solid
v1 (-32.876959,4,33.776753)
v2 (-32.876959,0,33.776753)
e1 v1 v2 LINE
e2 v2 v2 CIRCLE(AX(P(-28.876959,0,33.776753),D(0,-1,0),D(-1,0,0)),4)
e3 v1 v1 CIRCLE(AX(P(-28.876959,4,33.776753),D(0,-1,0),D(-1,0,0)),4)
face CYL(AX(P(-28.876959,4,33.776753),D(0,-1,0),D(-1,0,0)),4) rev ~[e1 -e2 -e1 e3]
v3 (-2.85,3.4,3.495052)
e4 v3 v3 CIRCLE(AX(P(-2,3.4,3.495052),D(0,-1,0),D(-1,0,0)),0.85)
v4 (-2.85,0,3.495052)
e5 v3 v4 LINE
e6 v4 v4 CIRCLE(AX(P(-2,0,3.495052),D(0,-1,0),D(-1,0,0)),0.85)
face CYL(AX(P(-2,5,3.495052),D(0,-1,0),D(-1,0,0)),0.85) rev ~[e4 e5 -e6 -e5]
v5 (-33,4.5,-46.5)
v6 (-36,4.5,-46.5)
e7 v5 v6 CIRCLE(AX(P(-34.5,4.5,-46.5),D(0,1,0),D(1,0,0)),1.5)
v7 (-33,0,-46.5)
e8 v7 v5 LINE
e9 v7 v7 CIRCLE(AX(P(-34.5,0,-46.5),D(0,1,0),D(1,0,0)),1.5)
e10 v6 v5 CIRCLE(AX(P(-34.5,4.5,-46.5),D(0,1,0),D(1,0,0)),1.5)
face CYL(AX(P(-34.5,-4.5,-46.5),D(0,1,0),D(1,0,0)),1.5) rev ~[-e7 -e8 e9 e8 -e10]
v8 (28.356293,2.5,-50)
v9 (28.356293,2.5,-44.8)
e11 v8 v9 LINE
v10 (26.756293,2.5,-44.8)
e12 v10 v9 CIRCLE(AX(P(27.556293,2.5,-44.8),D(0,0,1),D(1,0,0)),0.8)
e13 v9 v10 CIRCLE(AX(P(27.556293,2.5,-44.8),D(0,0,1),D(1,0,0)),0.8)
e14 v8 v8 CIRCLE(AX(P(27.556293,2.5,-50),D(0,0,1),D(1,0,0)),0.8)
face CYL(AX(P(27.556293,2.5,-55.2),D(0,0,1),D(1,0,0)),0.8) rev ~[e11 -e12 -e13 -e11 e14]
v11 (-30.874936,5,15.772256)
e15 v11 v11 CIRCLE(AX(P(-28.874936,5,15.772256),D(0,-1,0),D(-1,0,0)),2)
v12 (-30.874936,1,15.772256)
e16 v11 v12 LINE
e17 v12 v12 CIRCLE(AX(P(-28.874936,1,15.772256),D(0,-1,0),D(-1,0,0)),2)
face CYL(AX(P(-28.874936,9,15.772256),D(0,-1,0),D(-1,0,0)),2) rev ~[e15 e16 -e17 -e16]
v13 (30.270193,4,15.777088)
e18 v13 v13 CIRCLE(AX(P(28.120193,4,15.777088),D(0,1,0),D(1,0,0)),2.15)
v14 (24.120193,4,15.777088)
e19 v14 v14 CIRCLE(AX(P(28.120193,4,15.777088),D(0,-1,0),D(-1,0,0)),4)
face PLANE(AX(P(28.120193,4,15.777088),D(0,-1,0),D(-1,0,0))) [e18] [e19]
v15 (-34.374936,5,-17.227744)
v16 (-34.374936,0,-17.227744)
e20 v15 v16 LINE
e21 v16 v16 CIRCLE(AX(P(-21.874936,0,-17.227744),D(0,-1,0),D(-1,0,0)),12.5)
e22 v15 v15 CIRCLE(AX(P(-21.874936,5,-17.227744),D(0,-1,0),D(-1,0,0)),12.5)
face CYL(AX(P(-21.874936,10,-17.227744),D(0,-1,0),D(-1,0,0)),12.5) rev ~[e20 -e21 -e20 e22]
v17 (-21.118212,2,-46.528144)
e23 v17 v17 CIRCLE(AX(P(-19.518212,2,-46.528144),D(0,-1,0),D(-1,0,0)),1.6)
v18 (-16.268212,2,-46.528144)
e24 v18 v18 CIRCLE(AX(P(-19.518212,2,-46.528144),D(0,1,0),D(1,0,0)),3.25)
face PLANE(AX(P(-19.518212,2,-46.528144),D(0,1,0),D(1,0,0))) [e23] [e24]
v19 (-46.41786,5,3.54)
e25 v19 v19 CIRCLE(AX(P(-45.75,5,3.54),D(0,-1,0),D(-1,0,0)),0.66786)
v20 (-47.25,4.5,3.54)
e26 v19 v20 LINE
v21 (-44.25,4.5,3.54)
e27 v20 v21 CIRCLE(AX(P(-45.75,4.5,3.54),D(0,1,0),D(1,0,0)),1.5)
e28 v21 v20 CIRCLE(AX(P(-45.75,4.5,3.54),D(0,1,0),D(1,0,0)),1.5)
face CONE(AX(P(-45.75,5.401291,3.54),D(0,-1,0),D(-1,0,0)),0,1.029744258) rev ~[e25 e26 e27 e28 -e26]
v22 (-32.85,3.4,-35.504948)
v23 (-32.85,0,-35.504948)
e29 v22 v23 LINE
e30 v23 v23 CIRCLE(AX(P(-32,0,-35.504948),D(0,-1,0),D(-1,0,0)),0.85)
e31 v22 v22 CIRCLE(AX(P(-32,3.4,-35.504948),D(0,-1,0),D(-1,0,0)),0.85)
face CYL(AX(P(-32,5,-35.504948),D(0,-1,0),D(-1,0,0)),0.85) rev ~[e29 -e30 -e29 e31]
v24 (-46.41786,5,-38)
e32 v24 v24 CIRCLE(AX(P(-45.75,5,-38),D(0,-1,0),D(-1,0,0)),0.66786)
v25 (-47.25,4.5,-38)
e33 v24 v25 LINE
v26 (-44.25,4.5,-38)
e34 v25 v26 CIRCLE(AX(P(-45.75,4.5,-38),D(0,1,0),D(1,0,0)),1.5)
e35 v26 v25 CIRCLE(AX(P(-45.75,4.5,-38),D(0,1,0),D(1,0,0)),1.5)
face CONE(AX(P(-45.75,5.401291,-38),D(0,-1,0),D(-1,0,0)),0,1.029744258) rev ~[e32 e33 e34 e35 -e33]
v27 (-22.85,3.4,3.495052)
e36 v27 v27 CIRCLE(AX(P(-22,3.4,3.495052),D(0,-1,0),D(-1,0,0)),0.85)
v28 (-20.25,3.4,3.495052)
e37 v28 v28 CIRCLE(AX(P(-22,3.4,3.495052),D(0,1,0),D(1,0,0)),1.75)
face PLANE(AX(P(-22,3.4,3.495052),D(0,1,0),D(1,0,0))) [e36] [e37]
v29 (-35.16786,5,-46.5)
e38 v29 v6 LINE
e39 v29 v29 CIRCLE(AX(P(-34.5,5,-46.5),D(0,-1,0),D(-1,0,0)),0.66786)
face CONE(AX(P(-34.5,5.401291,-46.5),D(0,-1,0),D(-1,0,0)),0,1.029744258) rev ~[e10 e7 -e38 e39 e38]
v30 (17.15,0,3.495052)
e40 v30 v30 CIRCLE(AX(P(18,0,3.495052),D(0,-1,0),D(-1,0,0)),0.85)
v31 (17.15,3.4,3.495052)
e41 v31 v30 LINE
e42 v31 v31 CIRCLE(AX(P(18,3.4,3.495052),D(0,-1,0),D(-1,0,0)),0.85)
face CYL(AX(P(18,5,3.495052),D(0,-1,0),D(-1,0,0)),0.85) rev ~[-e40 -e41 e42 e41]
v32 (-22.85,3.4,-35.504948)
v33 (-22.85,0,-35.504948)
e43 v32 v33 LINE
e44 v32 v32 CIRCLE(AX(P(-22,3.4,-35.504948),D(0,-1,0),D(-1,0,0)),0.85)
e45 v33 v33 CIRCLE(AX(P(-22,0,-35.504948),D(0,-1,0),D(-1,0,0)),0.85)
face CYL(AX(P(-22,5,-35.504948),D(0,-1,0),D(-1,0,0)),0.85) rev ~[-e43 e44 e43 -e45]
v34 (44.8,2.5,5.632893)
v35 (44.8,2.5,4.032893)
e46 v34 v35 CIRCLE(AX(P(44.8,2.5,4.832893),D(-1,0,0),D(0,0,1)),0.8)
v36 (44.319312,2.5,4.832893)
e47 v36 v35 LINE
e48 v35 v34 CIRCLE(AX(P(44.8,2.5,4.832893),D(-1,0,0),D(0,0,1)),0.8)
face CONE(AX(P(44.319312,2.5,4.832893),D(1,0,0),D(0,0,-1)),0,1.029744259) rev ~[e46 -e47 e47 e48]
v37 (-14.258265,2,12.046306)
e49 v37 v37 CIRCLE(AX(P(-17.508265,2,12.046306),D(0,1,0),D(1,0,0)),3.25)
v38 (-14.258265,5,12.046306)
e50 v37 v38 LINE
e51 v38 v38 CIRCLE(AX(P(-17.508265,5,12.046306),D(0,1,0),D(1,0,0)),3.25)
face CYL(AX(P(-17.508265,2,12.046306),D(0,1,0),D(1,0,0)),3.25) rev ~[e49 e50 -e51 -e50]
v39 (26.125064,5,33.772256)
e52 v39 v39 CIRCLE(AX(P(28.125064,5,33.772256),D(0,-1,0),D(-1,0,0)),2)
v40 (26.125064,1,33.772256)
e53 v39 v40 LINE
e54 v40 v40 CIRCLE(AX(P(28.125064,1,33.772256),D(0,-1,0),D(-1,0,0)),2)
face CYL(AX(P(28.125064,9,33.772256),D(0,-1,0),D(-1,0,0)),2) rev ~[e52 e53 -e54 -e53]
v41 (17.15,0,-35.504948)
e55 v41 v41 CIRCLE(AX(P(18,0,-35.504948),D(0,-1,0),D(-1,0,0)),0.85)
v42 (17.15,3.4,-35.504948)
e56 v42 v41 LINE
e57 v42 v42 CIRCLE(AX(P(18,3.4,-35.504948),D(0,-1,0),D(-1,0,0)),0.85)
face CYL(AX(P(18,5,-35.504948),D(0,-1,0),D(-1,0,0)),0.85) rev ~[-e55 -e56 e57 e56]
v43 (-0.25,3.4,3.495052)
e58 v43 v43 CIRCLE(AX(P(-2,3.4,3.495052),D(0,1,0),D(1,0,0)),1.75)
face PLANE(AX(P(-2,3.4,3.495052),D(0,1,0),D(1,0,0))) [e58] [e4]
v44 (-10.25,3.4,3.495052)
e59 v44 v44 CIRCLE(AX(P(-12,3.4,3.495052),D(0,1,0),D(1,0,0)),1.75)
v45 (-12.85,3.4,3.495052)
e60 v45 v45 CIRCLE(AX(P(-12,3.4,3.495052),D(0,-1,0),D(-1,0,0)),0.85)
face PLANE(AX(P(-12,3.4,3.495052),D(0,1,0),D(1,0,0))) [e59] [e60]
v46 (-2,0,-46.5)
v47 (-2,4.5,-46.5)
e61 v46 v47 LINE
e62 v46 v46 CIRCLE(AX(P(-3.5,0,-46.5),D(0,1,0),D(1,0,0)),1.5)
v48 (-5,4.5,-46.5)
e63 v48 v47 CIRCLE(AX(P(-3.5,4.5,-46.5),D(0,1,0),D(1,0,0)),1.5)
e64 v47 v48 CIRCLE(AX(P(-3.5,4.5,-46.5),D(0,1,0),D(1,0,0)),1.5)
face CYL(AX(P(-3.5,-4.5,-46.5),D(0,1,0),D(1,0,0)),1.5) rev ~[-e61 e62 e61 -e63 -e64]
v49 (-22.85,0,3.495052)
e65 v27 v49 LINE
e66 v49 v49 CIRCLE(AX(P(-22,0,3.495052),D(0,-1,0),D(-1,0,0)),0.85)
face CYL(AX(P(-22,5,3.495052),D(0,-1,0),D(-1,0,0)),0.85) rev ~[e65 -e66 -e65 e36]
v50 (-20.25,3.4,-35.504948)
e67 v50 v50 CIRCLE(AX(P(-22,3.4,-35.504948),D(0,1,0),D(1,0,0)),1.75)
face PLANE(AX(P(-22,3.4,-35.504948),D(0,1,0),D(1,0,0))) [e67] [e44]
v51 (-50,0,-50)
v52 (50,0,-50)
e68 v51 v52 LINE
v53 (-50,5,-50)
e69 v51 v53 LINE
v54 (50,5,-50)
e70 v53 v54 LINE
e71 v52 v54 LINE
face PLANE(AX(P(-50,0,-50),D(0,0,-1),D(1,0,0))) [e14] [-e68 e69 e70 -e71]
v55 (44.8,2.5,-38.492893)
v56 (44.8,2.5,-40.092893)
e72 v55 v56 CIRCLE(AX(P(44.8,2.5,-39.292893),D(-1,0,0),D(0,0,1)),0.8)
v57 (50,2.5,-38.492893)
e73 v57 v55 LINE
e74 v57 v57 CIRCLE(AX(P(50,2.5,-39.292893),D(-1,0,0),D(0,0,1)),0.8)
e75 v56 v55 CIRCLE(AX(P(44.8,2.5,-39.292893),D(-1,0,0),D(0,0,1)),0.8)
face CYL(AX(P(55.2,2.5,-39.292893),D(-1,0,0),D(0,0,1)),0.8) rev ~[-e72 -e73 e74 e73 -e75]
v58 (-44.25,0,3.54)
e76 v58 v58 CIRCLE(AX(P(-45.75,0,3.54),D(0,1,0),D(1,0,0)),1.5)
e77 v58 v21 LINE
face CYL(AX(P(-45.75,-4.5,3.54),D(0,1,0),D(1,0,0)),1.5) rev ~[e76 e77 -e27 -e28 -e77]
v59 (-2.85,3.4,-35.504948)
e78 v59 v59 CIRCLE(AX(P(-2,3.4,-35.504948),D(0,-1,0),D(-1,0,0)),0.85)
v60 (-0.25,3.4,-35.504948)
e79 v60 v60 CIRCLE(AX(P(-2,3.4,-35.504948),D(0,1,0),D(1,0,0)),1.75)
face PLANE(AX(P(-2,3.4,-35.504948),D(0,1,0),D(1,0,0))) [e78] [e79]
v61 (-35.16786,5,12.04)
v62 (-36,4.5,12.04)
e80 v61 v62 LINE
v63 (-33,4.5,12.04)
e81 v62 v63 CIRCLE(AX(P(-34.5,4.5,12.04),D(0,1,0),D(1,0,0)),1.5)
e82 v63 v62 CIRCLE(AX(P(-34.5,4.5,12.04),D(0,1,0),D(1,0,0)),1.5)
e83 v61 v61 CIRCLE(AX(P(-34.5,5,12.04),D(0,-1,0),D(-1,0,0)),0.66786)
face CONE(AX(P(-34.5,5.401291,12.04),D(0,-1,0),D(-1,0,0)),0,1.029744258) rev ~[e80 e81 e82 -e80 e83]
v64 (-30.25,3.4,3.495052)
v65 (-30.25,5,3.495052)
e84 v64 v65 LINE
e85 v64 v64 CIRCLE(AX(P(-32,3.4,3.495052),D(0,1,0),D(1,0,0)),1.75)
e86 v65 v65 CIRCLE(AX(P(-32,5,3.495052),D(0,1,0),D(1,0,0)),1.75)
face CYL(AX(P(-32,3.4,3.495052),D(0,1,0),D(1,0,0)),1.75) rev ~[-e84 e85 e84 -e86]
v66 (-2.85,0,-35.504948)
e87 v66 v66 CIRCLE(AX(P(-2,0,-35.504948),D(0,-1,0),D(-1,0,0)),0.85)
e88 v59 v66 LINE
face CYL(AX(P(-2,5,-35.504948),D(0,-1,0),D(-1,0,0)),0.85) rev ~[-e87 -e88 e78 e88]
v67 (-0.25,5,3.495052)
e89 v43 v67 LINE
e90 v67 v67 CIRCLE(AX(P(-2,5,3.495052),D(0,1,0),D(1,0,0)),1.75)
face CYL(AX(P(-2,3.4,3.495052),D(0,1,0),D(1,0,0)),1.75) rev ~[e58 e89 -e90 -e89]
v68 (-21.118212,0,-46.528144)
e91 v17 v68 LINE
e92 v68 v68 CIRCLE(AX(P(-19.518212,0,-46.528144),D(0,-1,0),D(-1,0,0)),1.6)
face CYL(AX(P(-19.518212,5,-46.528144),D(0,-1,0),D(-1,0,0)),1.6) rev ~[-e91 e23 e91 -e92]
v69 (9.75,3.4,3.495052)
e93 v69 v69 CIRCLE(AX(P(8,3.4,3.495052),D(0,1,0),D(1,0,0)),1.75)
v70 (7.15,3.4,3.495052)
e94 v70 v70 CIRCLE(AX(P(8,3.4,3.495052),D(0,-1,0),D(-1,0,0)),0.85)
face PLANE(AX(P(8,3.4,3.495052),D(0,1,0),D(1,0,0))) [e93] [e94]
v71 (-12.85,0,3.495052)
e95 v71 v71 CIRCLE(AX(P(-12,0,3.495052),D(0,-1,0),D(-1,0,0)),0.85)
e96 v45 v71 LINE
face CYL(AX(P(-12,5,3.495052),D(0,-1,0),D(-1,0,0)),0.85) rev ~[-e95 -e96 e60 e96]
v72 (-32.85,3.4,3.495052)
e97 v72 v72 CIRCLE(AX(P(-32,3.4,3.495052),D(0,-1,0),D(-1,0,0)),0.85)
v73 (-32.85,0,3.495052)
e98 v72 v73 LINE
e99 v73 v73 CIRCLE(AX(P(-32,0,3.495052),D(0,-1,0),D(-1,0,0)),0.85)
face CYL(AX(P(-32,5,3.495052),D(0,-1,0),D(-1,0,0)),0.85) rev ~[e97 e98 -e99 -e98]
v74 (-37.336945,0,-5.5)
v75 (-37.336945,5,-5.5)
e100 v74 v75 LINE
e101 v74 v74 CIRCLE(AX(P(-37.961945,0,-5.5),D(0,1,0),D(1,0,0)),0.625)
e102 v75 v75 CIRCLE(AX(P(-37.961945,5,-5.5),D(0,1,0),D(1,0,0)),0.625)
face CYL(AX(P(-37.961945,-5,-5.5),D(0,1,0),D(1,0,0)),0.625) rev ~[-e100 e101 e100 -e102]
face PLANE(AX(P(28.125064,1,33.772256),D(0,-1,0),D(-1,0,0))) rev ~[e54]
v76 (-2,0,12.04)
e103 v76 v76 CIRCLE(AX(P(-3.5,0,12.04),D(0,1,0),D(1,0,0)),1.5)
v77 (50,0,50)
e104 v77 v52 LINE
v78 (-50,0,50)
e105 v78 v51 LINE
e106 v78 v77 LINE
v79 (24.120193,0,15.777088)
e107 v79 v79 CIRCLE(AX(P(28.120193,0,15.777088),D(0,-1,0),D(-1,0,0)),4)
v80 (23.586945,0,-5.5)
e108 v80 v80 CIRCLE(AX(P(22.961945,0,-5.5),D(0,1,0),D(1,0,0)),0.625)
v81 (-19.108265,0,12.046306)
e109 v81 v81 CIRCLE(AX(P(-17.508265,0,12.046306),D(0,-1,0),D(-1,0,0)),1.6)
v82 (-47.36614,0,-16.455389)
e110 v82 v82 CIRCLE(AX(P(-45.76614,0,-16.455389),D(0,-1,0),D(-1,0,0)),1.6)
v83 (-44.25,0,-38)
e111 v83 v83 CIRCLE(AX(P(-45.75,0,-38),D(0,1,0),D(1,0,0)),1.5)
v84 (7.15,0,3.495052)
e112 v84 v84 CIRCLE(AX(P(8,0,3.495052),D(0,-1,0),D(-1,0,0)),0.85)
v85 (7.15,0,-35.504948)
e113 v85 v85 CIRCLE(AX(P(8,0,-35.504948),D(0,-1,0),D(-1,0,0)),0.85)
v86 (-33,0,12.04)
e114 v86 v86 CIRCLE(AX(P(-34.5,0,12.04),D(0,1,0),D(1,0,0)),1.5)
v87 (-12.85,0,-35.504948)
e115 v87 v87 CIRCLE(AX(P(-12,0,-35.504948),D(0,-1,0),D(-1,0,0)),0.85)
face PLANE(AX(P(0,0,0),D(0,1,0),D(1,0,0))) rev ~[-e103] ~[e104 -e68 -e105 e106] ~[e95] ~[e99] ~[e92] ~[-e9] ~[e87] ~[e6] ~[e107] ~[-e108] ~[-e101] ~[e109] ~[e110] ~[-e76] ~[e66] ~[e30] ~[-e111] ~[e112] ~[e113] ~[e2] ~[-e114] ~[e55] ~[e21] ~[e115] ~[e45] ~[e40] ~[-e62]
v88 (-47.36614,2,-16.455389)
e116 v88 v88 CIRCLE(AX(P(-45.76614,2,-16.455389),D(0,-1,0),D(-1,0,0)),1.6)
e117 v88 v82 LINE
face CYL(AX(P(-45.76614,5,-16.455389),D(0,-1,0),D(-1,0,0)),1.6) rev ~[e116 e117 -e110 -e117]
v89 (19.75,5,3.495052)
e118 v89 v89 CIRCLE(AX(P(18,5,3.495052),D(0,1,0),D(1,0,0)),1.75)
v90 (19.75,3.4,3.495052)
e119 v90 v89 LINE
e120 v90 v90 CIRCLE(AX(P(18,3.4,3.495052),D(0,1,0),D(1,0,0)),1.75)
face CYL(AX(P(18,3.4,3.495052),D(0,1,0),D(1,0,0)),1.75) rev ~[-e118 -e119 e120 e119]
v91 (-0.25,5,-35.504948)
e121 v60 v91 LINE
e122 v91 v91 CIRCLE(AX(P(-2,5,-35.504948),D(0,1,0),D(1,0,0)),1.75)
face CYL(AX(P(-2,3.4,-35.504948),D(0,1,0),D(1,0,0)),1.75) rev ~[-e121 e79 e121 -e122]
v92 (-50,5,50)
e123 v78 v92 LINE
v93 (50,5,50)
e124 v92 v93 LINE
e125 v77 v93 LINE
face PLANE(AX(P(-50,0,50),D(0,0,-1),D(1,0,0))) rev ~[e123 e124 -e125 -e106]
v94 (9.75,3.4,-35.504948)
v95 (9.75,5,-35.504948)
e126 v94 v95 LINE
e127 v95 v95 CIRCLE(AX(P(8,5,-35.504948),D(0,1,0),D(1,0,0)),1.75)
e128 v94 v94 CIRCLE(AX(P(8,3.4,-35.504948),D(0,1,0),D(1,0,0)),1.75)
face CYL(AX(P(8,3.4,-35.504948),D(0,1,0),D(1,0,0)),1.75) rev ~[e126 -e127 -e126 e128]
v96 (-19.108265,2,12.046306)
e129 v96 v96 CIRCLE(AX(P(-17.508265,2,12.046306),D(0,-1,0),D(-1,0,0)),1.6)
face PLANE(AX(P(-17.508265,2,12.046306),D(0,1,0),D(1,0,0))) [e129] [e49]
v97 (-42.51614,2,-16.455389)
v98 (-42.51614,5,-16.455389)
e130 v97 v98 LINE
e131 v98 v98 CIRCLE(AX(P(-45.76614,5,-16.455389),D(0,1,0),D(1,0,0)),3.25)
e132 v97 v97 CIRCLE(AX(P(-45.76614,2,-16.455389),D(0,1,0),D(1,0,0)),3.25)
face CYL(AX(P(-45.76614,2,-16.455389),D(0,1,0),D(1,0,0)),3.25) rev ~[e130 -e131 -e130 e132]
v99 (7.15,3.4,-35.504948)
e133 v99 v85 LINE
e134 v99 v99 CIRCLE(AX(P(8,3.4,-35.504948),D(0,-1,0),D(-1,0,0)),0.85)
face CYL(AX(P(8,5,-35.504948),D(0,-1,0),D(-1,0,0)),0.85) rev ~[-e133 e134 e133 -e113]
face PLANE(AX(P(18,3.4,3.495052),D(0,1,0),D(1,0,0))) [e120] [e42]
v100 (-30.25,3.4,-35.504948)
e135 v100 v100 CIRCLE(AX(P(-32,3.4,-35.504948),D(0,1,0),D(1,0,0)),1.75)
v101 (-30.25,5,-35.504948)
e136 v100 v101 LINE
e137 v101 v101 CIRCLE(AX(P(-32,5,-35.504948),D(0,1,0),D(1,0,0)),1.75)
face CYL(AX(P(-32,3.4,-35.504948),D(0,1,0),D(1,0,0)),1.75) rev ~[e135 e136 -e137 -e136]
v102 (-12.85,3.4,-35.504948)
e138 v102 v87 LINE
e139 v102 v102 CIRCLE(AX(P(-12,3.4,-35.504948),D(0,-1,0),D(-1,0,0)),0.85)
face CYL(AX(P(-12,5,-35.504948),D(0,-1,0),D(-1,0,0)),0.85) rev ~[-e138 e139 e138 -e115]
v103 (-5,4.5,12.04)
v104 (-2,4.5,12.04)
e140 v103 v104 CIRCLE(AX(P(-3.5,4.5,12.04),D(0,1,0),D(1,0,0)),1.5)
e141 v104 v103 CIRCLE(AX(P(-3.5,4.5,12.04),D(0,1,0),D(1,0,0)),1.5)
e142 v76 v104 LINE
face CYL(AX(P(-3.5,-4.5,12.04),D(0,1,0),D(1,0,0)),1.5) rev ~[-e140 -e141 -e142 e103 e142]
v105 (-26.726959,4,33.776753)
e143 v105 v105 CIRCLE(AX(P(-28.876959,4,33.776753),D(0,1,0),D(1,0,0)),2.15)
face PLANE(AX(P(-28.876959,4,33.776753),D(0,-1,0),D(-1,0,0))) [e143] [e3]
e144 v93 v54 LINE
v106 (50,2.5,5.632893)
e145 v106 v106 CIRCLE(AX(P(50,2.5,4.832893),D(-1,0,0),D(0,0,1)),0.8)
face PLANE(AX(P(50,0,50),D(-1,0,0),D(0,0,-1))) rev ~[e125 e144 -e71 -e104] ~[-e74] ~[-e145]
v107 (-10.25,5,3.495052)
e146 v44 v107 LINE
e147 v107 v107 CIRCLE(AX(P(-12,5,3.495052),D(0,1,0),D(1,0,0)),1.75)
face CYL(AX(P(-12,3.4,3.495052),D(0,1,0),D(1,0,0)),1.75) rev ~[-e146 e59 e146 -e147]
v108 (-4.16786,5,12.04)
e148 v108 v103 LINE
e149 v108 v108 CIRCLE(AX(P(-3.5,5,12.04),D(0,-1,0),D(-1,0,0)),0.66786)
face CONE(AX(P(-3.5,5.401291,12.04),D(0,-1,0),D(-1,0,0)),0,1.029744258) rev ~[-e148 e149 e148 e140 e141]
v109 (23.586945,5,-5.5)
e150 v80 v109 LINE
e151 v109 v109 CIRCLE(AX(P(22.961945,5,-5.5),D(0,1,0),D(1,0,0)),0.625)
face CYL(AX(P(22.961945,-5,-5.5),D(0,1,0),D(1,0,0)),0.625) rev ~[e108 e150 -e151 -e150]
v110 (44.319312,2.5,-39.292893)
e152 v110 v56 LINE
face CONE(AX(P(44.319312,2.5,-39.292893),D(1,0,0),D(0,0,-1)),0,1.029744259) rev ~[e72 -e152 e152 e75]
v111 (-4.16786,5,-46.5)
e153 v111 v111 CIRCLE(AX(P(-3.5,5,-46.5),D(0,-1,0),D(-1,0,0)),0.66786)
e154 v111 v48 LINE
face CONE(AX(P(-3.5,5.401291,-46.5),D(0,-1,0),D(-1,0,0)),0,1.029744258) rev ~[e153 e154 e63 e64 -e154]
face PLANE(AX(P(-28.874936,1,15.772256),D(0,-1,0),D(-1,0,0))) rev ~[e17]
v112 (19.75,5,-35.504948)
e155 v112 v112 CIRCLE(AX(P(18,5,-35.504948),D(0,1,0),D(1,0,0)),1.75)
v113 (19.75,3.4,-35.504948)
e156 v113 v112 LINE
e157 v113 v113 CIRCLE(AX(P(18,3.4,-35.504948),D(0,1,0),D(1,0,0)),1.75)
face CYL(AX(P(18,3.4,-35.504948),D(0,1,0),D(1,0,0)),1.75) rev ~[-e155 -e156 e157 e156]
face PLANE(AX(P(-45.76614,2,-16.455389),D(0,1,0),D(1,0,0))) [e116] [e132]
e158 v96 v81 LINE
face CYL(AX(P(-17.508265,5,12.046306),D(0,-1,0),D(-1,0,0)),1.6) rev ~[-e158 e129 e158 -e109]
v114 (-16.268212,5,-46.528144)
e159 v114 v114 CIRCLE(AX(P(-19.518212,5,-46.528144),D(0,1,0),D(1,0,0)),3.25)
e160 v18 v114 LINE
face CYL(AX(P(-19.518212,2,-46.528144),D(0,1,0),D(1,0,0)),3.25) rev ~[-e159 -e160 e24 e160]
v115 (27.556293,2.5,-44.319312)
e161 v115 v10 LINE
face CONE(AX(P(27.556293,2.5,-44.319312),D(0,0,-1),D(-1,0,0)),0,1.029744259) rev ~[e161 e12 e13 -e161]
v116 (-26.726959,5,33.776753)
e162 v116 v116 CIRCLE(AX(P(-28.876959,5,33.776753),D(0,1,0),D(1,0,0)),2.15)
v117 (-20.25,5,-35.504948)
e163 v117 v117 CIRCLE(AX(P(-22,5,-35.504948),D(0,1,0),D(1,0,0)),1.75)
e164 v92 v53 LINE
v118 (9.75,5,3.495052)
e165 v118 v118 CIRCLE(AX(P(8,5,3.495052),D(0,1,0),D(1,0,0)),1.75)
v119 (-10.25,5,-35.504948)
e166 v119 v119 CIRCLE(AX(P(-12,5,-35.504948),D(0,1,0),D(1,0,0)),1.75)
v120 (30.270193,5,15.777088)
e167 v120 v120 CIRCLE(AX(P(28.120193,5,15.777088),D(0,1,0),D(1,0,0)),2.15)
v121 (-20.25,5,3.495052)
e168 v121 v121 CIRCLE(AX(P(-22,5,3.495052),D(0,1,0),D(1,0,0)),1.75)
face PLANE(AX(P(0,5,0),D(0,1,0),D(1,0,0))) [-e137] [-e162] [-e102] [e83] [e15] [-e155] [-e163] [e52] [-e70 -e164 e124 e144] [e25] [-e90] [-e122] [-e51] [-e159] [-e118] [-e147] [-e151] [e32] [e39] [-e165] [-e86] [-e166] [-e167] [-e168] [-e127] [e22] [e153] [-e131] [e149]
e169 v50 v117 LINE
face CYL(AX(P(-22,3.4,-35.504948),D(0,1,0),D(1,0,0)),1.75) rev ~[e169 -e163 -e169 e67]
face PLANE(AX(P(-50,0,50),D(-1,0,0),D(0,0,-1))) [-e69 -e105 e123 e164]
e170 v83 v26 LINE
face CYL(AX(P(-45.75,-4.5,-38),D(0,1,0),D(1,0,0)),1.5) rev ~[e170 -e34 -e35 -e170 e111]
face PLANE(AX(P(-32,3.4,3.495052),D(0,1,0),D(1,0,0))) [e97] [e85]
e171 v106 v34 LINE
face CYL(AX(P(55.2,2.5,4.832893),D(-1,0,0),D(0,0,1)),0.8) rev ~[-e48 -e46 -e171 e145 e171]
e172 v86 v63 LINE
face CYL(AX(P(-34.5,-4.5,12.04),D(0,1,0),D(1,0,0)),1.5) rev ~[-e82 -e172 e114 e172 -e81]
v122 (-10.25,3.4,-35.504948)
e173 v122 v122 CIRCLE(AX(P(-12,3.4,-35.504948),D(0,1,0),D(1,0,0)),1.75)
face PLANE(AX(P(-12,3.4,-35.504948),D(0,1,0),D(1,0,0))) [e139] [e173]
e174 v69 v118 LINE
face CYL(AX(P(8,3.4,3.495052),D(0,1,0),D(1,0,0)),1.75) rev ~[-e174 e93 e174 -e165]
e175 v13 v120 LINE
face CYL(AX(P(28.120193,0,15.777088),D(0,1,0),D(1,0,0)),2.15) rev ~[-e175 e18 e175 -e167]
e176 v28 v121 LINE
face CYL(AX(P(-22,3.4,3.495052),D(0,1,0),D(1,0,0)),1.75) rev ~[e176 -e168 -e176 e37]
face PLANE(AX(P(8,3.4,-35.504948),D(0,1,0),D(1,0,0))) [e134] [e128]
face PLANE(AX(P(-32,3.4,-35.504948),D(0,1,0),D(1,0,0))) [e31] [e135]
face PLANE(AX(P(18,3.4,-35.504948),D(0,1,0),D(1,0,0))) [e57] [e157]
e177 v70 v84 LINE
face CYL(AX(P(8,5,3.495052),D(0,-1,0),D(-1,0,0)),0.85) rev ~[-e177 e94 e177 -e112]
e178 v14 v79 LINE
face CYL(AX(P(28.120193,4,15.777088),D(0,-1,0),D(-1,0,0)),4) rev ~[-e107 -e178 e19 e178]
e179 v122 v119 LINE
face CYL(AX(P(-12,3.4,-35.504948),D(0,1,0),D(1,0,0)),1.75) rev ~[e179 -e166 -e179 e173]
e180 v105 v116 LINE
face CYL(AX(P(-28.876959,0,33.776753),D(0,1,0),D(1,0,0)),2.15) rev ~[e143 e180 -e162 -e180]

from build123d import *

# Parameters (mm, degrees)
SKETCH1_W                        = 100
SKETCH1_H                        = 100
BOSS_EXTRUDE1_DEPTH              = 5
F_25_0_25_DIAMETER_HOLE1_D       = 25
F_25_0_25_DIAMETER_HOLE1_DEPTH   = 5
CBORE_FOR_M1_6_SHCS1_D           = 1.7
CBORE_FOR_M1_6_SHCS1_DEPTH       = 5
CBORE_FOR_M1_6_SHCS1_CBORE_D     = 3.5
CBORE_FOR_M1_6_SHCS1_CBORE_DEPTH = 1.6
M1_6X0_35_TAPPED_HOLE1_D         = 1.25
M1_6X0_35_TAPPED_HOLE1_DEPTH     = 5
CBORE_FOR_M3_SHCS1_D             = 3.2
CBORE_FOR_M3_SHCS1_DEPTH         = 5
CBORE_FOR_M3_SHCS1_CBORE_D       = 6.5
CBORE_FOR_M3_SHCS1_CBORE_DEPTH   = 3
F_3_0MM_DOWEL_HOLE1_D            = 3
F_3_0MM_DOWEL_HOLE1_DEPTH        = 4.5
F_3_0MM_DOWEL_HOLE1_TIP          = 0.901290929
CBORE_FOR_M4_SHCS3_D             = 4.3
CBORE_FOR_M4_SHCS3_DEPTH         = 5
CBORE_FOR_M4_SHCS3_CBORE_D       = 8
CBORE_FOR_M4_SHCS3_CBORE_DEPTH   = 4
F_4_0MM_DOWEL_HOLE1_D            = 4
F_4_0MM_DOWEL_HOLE1_DEPTH        = 4
M2X0_4_TAPPED_HOLE1_D            = 1.6
M2X0_4_TAPPED_HOLE1_DEPTH        = 5.2
M2X0_4_TAPPED_HOLE1_TIP          = 0.480688495
M2X0_4_TAPPED_HOLE2_D            = 1.6
M2X0_4_TAPPED_HOLE2_DEPTH        = 5.2
M2X0_4_TAPPED_HOLE2_TIP          = 0.480688495


with BuildPart() as part:
    # Sketch1 → Boss-Extrude1 (new body)
    with BuildSketch(Plane(origin=(0, 0, 0), x_dir=(1, 0, 0), z_dir=(0, 1, 0))):
        Rectangle(SKETCH1_W, SKETCH1_H)
    extrude(amount=BOSS_EXTRUDE1_DEPTH)

    # Ø25.0 (25) Diameter Hole1
    with Locations(Plane(origin=(0, 5, 0), x_dir=(1, 0, 0), z_dir=(0, 1, 0))):
        with Locations((-21.874935549, 17.227744249)):
            Hole(F_25_0_25_DIAMETER_HOLE1_D / 2, depth=F_25_0_25_DIAMETER_HOLE1_DEPTH)

    # CBORE for M1.6 SHCS1
    with Locations(Plane(origin=(0, 5, 0), x_dir=(1, 0, 0), z_dir=(0, 1, 0))):
        with Locations((-32, 35.504948403), (-22, 35.504948403), (-12, 35.504948403), (-2, 35.504948403), (8, 35.504948403), (18, 35.504948403), (18, -3.495051597), (8, -3.495051597), (-2, -3.495051597), (-12, -3.495051597), (-22, -3.495051597), (-32, -3.495051597)):
            CounterBoreHole(CBORE_FOR_M1_6_SHCS1_D / 2, CBORE_FOR_M1_6_SHCS1_CBORE_D / 2, CBORE_FOR_M1_6_SHCS1_CBORE_DEPTH, depth=CBORE_FOR_M1_6_SHCS1_DEPTH)

    # M1.6x0.35 Tapped Hole1
    with Locations(Plane(origin=(0, 0, 0), x_dir=(-1, 0, 0), z_dir=(0, -1, 0))):
        with Locations((37.961945314, 5.5), (-22.961945314, 5.5)):
            Hole(M1_6X0_35_TAPPED_HOLE1_D / 2, depth=M1_6X0_35_TAPPED_HOLE1_DEPTH)

    # CBORE for M3 SHCS1
    with Locations(Plane(origin=(0, 5, 0), x_dir=(1, 0, 0), z_dir=(0, 1, 0))):
        with Locations((-19.518211542, 46.528144303), (-45.766139787, 16.455389216), (-17.50826472, -12.046305538)):
            CounterBoreHole(CBORE_FOR_M3_SHCS1_D / 2, CBORE_FOR_M3_SHCS1_CBORE_D / 2, CBORE_FOR_M3_SHCS1_CBORE_DEPTH, depth=CBORE_FOR_M3_SHCS1_DEPTH)

    # Ø3.0mm Dowel Hole1
    with Locations(Plane(origin=(0, 0, 0), x_dir=(-1, 0, 0), z_dir=(0, -1, 0))):
        with Locations((3.5, -12.04), (34.5, -12.04), (45.75, -3.54), (45.75, 38), (34.5, 46.5), (3.5, 46.5)):
            Hole(F_3_0MM_DOWEL_HOLE1_D / 2, depth=F_3_0MM_DOWEL_HOLE1_DEPTH)
            with Locations((0, 0, -(F_3_0MM_DOWEL_HOLE1_DEPTH + F_3_0MM_DOWEL_HOLE1_TIP / 2))):  # 118° drill point
                Cone(0, F_3_0MM_DOWEL_HOLE1_D / 2, F_3_0MM_DOWEL_HOLE1_TIP, mode=Mode.SUBTRACT)

    # CBORE for M4 SHCS3
    with Locations(Plane(origin=(0, 0, 0), x_dir=(-1, 0, 0), z_dir=(0, -1, 0))):
        with Locations((28.876959135, -33.77675291), (-28.120192829, -15.777088357)):
            CounterBoreHole(CBORE_FOR_M4_SHCS3_D / 2, CBORE_FOR_M4_SHCS3_CBORE_D / 2, CBORE_FOR_M4_SHCS3_CBORE_DEPTH, depth=CBORE_FOR_M4_SHCS3_DEPTH)

    # Ø4.0mm Dowel Hole1
    with Locations(Plane(origin=(0, 5, 0), x_dir=(1, 0, 0), z_dir=(0, 1, 0))):
        with Locations((-28.874935549, -15.772255751), (28.125064451, -33.772255751)):
            Hole(F_4_0MM_DOWEL_HOLE1_D / 2, depth=F_4_0MM_DOWEL_HOLE1_DEPTH)

    # M2x0.4 Tapped Hole1
    with Locations(Plane(origin=(0, 0, -50), x_dir=(-1, 0, 0), z_dir=(0, 0, -1))):
        with Locations((-27.556293219, 2.5)):
            Hole(M2X0_4_TAPPED_HOLE1_D / 2, depth=M2X0_4_TAPPED_HOLE1_DEPTH)
            with Locations((0, 0, -(M2X0_4_TAPPED_HOLE1_DEPTH + M2X0_4_TAPPED_HOLE1_TIP / 2))):  # 118° drill point
                Cone(0, M2X0_4_TAPPED_HOLE1_D / 2, M2X0_4_TAPPED_HOLE1_TIP, mode=Mode.SUBTRACT)

    # M2x0.4 Tapped Hole2
    with Locations(Plane(origin=(50, 0, 0), x_dir=(0, 0, -1), z_dir=(1, 0, 0))):
        with Locations((-4.832893219, 2.5), (39.292893219, 2.5)):
            Hole(M2X0_4_TAPPED_HOLE2_D / 2, depth=M2X0_4_TAPPED_HOLE2_DEPTH)
            with Locations((0, 0, -(M2X0_4_TAPPED_HOLE2_DEPTH + M2X0_4_TAPPED_HOLE2_TIP / 2))):  # 118° drill point
                Cone(0, M2X0_4_TAPPED_HOLE2_D / 2, M2X0_4_TAPPED_HOLE2_TIP, mode=Mode.SUBTRACT)


solid = part.part
